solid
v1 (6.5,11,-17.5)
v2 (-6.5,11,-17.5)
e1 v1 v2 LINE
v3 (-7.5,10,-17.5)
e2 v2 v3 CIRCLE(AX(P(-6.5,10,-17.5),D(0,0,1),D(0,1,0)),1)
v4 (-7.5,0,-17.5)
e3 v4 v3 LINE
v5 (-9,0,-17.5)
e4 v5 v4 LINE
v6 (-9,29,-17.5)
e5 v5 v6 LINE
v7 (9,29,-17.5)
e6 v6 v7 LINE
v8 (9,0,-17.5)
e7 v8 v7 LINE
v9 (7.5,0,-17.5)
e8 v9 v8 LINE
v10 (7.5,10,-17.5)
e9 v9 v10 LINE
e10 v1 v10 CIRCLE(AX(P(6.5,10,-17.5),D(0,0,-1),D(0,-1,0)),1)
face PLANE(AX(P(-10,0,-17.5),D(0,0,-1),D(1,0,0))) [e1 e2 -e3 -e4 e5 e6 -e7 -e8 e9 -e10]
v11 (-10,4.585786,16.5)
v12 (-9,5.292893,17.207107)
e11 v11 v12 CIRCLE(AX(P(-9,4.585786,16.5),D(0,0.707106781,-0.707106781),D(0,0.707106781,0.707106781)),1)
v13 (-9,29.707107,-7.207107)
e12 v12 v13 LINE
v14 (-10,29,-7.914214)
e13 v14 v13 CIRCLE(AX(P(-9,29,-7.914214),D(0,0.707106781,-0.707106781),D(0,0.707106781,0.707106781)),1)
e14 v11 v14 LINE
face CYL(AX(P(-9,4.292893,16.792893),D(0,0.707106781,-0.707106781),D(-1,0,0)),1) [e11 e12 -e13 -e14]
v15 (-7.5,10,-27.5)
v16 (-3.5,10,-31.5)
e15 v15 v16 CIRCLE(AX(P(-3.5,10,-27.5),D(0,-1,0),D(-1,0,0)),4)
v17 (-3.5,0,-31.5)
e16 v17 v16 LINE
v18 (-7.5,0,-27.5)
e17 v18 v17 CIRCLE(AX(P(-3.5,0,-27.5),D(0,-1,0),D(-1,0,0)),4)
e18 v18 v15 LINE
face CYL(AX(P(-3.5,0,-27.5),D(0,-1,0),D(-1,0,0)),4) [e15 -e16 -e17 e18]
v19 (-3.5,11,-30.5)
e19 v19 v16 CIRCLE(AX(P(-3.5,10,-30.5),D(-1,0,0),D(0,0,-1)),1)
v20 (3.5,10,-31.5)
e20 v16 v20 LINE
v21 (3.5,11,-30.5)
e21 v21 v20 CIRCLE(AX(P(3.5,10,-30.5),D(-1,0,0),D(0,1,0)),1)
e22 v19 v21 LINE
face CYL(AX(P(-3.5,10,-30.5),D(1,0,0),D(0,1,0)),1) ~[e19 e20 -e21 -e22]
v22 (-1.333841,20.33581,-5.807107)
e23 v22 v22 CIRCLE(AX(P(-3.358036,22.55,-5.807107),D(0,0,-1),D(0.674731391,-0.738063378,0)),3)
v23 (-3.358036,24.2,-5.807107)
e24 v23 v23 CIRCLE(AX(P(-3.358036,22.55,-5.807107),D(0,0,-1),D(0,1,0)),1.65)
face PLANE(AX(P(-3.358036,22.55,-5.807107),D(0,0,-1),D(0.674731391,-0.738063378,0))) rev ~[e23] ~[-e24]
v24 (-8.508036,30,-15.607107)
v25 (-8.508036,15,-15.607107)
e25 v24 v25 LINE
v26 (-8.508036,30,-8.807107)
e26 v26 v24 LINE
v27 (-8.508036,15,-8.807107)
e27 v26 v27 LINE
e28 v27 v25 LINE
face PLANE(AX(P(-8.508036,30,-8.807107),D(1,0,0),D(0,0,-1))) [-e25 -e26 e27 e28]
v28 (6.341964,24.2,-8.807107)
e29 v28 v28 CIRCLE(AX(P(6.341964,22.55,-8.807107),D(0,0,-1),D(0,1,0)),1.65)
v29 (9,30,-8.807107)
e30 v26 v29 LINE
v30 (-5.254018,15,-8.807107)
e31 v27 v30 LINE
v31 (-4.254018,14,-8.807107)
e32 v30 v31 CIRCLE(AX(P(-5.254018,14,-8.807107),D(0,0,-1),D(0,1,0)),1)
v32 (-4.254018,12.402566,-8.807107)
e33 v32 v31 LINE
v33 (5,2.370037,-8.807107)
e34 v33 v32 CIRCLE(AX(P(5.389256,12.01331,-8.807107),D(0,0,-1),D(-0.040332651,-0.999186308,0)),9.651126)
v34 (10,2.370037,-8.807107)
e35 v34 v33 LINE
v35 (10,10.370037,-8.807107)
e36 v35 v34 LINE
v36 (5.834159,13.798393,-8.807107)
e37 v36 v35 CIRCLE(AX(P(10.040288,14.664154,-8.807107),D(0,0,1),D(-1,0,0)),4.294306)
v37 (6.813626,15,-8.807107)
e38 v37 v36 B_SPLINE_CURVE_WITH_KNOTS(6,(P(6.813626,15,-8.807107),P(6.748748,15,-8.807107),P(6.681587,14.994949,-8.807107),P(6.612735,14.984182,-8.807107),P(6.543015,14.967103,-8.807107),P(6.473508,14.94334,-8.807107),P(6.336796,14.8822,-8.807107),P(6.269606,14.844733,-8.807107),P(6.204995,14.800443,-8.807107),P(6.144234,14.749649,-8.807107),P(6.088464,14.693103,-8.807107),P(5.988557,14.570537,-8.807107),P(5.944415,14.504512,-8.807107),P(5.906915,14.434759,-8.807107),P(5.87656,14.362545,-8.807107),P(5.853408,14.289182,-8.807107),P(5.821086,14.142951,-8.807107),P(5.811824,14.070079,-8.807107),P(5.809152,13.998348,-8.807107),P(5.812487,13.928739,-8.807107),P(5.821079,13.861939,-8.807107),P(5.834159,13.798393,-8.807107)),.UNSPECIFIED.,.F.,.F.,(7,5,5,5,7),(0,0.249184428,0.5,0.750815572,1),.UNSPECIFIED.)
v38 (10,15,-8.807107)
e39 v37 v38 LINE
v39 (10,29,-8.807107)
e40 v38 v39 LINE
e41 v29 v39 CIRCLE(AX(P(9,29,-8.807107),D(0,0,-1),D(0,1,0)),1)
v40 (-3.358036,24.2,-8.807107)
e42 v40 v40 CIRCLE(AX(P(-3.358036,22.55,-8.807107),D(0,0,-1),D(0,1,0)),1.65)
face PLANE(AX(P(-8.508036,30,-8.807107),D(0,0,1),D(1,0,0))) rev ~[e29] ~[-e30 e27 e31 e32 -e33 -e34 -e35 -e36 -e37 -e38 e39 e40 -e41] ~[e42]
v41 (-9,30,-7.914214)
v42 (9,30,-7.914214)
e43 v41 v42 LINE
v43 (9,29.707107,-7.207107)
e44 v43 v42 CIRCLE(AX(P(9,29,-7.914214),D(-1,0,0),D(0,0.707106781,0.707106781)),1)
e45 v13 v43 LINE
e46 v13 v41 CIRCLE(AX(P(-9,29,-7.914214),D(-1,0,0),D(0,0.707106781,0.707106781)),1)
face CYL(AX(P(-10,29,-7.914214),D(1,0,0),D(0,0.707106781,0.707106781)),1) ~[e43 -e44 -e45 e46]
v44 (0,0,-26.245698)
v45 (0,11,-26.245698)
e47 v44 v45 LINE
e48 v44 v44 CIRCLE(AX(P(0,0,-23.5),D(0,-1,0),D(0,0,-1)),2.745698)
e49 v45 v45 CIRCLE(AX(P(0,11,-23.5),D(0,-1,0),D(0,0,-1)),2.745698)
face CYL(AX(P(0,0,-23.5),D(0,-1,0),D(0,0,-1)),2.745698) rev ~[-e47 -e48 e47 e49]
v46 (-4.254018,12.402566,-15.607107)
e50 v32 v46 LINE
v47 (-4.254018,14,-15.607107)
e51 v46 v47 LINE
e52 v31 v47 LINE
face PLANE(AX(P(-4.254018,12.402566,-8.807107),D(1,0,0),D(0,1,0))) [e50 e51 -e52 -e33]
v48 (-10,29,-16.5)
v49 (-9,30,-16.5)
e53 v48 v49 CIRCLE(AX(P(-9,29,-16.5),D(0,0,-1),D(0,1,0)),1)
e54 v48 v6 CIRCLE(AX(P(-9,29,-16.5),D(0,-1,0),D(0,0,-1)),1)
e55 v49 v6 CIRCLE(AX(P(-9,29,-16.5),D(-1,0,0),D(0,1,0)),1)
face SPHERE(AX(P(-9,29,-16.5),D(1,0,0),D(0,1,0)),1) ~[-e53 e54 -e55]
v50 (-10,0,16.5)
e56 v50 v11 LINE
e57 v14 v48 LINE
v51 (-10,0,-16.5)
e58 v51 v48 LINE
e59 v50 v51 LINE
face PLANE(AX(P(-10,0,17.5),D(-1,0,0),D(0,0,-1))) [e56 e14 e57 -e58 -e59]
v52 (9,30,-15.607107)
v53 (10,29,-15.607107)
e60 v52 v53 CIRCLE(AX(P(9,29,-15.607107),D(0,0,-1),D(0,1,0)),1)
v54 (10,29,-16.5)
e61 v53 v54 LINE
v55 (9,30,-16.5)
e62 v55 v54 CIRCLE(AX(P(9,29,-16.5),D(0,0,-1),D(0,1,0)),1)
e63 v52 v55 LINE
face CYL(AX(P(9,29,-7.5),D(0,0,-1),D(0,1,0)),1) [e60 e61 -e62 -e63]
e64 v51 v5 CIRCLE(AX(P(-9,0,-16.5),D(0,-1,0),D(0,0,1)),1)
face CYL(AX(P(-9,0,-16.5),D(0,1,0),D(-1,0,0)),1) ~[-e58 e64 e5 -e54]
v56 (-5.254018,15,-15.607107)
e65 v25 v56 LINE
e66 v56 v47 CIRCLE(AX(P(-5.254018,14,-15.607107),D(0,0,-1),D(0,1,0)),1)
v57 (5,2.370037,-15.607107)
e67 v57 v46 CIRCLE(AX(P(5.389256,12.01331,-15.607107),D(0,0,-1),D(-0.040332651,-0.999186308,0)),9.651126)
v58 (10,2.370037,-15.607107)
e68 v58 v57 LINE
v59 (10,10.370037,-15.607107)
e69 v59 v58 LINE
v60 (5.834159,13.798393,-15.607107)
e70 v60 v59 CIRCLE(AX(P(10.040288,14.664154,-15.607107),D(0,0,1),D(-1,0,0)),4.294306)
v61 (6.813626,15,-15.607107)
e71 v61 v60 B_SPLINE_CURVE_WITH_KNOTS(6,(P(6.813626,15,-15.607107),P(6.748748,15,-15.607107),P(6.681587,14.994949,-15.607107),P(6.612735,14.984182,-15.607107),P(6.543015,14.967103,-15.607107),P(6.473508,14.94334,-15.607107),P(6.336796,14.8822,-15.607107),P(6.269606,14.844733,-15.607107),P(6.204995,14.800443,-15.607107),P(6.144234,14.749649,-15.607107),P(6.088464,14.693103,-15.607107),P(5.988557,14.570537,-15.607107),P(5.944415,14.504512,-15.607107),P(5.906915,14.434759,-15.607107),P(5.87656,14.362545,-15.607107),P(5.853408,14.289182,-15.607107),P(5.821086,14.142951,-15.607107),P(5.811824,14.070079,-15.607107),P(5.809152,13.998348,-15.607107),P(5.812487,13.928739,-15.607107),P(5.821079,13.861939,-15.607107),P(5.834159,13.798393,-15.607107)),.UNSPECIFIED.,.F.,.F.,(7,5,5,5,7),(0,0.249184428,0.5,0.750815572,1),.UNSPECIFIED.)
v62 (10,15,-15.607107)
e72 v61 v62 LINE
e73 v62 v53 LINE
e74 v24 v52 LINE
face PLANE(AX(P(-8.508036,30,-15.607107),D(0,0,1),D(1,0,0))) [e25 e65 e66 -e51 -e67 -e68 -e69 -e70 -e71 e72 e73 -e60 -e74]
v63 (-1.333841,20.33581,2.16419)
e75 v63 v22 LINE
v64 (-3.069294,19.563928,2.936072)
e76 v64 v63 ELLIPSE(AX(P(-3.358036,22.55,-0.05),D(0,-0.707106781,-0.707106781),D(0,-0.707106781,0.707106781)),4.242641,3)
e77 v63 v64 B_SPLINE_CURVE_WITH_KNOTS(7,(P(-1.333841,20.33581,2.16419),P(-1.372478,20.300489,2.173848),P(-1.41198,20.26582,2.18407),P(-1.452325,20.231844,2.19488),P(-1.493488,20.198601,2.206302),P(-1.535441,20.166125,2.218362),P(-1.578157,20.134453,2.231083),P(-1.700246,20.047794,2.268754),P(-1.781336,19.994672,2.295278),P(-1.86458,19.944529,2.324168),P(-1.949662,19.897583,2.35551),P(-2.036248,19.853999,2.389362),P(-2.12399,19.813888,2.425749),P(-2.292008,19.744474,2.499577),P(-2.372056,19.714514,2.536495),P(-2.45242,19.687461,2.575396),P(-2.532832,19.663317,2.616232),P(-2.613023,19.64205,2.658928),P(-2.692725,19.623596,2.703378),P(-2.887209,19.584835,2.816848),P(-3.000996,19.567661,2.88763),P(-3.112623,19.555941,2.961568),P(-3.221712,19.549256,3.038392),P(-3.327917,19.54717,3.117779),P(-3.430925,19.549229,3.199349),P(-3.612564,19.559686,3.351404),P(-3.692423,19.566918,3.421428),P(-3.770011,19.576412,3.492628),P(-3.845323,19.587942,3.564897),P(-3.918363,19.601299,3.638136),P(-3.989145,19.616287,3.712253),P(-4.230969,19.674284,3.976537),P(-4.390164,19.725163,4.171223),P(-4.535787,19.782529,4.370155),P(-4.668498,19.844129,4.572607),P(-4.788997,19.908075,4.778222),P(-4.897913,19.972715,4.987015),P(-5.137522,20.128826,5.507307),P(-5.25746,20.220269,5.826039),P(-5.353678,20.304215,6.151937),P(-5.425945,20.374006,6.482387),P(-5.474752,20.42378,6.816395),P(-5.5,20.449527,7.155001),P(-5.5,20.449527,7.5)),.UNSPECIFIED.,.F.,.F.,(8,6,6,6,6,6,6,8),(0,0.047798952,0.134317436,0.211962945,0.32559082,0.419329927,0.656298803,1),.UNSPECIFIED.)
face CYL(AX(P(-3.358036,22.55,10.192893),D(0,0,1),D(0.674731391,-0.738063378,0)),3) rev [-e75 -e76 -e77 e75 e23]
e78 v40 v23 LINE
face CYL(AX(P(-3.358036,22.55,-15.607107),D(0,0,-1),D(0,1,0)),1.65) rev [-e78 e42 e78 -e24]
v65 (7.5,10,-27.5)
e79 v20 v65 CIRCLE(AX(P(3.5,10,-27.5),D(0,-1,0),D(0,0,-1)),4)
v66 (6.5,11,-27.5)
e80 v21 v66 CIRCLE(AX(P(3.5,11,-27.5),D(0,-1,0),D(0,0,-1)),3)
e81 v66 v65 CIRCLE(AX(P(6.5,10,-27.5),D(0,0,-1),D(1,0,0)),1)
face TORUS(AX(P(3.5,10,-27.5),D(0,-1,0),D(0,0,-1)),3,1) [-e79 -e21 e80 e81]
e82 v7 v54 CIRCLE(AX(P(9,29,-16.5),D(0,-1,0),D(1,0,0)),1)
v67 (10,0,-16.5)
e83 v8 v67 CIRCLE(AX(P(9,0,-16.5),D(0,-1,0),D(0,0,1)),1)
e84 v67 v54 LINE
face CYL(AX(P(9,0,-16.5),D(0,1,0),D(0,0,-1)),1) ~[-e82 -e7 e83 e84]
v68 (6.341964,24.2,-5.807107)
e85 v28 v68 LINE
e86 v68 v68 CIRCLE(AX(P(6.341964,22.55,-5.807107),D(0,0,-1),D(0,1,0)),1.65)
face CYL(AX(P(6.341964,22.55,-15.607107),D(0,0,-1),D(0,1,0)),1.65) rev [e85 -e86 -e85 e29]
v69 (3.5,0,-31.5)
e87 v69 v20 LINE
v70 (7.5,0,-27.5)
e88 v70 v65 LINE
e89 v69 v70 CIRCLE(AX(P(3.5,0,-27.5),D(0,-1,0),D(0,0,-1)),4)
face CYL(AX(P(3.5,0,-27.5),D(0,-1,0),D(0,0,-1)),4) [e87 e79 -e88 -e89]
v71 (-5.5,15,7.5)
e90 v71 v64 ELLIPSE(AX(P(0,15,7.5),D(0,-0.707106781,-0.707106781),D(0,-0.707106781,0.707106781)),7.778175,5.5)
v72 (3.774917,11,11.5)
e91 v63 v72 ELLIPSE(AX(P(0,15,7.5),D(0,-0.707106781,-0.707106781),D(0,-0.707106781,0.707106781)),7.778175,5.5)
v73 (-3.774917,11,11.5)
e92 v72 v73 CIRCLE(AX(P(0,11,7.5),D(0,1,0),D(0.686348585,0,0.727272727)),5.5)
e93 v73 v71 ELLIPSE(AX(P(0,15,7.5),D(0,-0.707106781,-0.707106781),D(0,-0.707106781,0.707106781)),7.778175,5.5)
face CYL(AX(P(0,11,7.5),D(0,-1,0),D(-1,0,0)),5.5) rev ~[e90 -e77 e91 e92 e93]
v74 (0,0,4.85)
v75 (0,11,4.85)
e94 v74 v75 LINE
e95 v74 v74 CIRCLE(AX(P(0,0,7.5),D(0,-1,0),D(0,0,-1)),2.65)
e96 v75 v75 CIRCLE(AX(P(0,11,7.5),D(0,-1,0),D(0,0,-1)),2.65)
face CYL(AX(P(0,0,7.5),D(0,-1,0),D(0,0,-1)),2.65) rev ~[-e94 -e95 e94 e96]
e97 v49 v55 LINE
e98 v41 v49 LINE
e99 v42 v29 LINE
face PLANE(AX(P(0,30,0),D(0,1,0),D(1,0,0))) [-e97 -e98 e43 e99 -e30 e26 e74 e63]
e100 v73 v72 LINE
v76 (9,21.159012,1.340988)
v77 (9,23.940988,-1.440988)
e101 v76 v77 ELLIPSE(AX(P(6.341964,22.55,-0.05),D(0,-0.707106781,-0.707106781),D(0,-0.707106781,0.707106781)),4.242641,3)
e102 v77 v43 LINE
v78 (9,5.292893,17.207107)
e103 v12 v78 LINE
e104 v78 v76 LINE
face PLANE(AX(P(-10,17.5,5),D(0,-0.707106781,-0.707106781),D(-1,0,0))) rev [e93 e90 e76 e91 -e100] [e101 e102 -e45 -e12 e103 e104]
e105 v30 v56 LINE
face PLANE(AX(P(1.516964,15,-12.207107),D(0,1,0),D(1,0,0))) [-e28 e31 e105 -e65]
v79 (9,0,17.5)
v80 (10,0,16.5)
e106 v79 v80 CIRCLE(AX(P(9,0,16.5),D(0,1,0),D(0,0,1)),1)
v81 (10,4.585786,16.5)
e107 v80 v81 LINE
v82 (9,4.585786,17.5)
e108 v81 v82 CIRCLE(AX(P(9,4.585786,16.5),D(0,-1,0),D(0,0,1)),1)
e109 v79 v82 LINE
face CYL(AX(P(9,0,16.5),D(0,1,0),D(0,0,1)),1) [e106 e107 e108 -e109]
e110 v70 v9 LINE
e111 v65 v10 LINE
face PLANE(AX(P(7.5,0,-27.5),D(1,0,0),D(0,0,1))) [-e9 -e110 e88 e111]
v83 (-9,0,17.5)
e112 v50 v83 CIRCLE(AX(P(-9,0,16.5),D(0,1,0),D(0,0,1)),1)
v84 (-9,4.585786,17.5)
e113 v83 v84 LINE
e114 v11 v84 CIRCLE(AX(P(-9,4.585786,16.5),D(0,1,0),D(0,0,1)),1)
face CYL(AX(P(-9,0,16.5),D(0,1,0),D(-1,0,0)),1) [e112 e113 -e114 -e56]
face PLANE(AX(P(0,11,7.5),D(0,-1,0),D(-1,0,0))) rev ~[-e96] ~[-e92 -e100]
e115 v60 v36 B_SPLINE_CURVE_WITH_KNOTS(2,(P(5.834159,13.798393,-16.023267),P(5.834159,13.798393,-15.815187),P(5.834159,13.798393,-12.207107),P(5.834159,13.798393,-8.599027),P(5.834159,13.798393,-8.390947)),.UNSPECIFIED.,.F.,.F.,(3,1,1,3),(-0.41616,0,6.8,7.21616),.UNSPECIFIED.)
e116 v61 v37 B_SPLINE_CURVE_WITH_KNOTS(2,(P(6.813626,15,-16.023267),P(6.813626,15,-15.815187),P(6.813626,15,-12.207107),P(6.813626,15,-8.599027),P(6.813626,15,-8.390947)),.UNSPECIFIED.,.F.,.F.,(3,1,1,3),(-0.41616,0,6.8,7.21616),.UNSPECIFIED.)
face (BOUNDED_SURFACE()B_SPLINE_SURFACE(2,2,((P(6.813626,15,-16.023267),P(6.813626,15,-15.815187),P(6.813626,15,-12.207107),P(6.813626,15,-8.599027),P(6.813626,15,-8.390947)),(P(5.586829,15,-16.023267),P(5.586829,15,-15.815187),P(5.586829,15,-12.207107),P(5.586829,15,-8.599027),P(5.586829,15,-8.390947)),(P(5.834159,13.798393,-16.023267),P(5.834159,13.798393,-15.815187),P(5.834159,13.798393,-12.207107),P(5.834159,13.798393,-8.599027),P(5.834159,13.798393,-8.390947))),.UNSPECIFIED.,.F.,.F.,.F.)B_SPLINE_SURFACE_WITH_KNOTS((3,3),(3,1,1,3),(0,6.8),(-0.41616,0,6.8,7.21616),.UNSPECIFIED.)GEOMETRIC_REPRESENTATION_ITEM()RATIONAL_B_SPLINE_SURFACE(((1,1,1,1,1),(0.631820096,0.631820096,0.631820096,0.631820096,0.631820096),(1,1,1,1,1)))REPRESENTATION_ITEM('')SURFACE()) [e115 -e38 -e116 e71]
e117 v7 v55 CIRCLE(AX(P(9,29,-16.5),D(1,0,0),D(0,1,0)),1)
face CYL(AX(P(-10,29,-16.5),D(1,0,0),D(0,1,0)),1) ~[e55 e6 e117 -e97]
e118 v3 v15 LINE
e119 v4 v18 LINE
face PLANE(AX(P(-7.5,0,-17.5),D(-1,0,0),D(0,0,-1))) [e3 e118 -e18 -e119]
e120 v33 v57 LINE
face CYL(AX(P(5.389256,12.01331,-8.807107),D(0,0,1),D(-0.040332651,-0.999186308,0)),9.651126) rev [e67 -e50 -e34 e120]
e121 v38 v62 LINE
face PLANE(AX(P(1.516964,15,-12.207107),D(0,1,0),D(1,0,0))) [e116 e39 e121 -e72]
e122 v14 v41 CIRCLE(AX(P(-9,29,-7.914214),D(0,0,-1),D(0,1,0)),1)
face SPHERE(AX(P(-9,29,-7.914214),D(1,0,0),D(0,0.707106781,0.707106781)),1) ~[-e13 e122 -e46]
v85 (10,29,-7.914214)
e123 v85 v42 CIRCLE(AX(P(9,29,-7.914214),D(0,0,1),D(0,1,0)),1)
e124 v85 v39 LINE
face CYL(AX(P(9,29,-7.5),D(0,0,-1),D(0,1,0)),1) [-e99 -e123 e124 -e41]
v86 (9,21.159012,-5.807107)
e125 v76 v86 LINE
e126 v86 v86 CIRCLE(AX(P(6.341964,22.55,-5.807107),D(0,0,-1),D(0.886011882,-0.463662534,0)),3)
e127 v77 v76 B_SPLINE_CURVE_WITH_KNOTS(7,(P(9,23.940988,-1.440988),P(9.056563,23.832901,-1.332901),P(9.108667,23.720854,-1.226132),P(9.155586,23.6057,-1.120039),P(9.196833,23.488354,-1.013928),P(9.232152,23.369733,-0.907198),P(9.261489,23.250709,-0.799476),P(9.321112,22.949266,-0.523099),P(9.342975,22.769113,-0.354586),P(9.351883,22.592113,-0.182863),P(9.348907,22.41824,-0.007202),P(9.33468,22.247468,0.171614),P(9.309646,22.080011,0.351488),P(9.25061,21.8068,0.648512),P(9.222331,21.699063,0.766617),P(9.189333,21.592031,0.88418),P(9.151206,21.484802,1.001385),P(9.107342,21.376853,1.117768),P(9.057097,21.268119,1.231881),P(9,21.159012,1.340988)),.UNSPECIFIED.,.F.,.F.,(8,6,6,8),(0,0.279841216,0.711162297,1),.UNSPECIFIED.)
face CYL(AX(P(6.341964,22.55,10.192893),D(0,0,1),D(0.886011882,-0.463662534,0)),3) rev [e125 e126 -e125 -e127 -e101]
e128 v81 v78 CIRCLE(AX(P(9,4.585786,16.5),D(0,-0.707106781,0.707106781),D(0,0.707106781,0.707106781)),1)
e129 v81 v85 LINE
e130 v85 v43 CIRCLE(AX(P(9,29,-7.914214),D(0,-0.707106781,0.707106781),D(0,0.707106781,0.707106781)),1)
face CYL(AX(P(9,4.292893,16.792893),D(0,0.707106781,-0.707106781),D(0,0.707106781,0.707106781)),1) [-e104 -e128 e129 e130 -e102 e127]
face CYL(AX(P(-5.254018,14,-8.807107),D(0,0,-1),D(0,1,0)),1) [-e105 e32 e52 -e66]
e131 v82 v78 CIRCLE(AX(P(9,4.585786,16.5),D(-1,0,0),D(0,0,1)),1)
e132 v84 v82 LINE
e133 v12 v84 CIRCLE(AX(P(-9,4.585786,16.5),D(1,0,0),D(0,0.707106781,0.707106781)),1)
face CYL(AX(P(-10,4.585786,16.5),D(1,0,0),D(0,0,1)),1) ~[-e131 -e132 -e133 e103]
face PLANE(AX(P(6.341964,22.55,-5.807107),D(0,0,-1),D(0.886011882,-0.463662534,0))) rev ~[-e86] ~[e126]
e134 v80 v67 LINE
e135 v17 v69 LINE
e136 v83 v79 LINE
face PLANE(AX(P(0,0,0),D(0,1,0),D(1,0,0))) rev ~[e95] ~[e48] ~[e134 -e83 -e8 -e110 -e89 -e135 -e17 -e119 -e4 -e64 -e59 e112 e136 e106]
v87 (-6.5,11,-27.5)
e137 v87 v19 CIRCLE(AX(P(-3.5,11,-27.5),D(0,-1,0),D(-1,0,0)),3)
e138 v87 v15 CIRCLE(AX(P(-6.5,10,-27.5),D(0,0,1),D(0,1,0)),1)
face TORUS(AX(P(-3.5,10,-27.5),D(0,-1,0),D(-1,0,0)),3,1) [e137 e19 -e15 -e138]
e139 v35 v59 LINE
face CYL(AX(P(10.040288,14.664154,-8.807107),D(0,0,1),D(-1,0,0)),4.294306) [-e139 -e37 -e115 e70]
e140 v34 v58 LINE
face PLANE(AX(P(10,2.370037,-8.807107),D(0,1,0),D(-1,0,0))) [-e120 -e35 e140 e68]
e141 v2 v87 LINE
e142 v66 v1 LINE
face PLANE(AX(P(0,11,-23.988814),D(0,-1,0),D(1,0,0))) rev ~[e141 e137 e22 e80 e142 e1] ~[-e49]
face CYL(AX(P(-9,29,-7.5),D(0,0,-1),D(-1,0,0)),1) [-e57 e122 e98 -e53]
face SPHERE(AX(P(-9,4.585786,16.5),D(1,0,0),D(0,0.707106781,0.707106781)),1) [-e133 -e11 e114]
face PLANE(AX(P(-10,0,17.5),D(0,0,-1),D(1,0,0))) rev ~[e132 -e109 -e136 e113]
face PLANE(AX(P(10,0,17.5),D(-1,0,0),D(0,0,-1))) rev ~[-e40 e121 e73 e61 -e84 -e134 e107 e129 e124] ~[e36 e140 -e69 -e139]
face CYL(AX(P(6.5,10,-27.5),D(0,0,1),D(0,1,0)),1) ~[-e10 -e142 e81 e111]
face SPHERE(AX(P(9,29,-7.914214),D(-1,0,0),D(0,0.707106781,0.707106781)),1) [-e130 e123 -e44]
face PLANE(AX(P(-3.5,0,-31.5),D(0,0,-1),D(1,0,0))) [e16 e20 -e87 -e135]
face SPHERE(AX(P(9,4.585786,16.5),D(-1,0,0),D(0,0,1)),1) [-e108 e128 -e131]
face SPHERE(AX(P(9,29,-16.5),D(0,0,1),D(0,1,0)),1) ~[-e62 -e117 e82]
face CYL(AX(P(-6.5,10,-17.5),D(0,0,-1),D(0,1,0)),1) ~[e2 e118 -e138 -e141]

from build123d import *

# Parameters (mm, degrees)
SKETCH1_W               = 20
SKETCH1_H               = 35
BOSS_EXTRUDE1_DEPTH     = 30
CHAMFER1_SIZE           = 25
FILLET1_R               = 1
SKETCH2_R               = 2.65
CUT_EXTRUDE2_DEPTH      = 20
SKETCH4_R               = 5.5
CUT_EXTRUDE3_DEPTH      = 20
SKETCH5_W               = 20.05
SKETCH5_H               = 6.8
CUT_EXTRUDE4_DEPTH      = 15
CUT_EXTRUDE5_DEPTH      = 6.8
FILLET3_R               = 1
SKETCH7_R               = 2.745697614
BOSS_EXTRUDE2_DEPTH     = 11
FILLET4_R               = 1
SKETCH10_R              = 1.65
CUT_EXTRUDE7_DEPTH      = 18
CUT_EXTRUDE8_DEPTH      = 8
CUT_EXTRUDE8_DEPTH_BACK = 8
SKETCH11_R              = 3


with BuildPart() as part:
    # Sketch1 → Boss-Extrude1 (new body)
    with BuildSketch(Plane(origin=(0, 0, 0), x_dir=(1, 0, 0), z_dir=(0, 1, 0))):
        Rectangle(SKETCH1_W, SKETCH1_H)
    extrude(amount=BOSS_EXTRUDE1_DEPTH)

    # Chamfer1
    chamfer1_edges = [part.edges().sort_by_distance(p)[0] for p in [
        (0, 30, 17.5),
    ]]
    chamfer(chamfer1_edges, length=CHAMFER1_SIZE)

    # Fillet1
    fillet1_edges = [part.edges().sort_by_distance(p)[0] for p in [
        (10, 30, -12.5),
        (0, 30, -7.5),
        (10, 2.5, 17.5),
        (10, 17.5, 5),
        (-10, 2.5, 17.5),
        (0, 5, 17.5),
        (0, 30, -17.5),
        (-10, 17.5, 5),
        (-10, 30, -12.5),
        (-10, 15, -17.5),
        (10, 15, -17.5),
    ]]
    fillet(fillet1_edges, radius=FILLET1_R)

    # Sketch2 → Cut-Extrude2 (cut)
    with BuildSketch(Plane(origin=(0, 0, 0), x_dir=(-1, 0, 0), z_dir=(0, -1, 0))):
        with Locations(Location((0, -7.5, 0), (0, 0, 90))):
            Circle(SKETCH2_R)
    extrude(amount=-CUT_EXTRUDE2_DEPTH, mode=Mode.SUBTRACT)

    # Sketch4 → Cut-Extrude3 (cut)
    with BuildSketch(Plane(origin=(0, 11, 0), x_dir=(-1, 0, 0), z_dir=(0, -1, 0))):
        with Locations((0, -7.5)):
            Circle(SKETCH4_R)
    extrude(amount=-CUT_EXTRUDE3_DEPTH, mode=Mode.SUBTRACT)

    # Sketch5 → Cut-Extrude4 (cut)
    with BuildSketch(Plane(origin=(0, 30, 0), x_dir=(1, 0, 0), z_dir=(0, 1, 0))):
        with Locations((1.516964354, 12.207106781)):
            Rectangle(SKETCH5_W, SKETCH5_H)
    extrude(amount=-CUT_EXTRUDE4_DEPTH, mode=Mode.SUBTRACT)

    # Sketch6 → Cut-Extrude5 (cut)
    with BuildSketch(Plane(origin=(0, 0, -8.807106781), x_dir=(-1, 0, 0), z_dir=(0, 0, -1))):
        with BuildLine():
            Line((-10, 10.37003714), (-10, 2.37003714))
            Line((-10, 2.37003714), (-5, 2.37003714))
            ThreePointArc((-5, 2.37003714), (1.70481367, 5.469731724), (4.254017823, 12.402565997))
            Line((4.254017823, 12.402565997), (4.254017823, 21.00909074))
            Line((4.254017823, 21.00909074), (-5.745982177, 21.00909074))
            Line((-5.745982177, 21.00909074), (-5.745982177, 14.664154296))
            ThreePointArc((-5.745982177, 14.664154296), (-6.989544506, 11.641898939), (-10, 10.37003714))
        make_face()
    extrude(amount=CUT_EXTRUDE5_DEPTH, mode=Mode.SUBTRACT)

    # Fillet3
    fillet3_edges = [part.edges().sort_by_distance(p)[0] for p in [
        (5.745982177, 15, -12.207106781),
        (-4.254017823, 15, -12.207106781),
    ]]
    fillet(fillet3_edges, radius=FILLET3_R)

    # Sketch7 → Boss-Extrude2 (add)
    with BuildSketch(Plane.XZ):
        with BuildLine():
            Line((7.5, -17.5), (-7.5, -17.5))
            Line((-7.5, -17.5), (-7.5, -27.5))
            ThreePointArc((-7.5, -27.5), (-6.328427125, -30.328427125), (-3.5, -31.5))
            Line((-3.5, -31.5), (3.5, -31.5))
            ThreePointArc((3.5, -31.5), (6.328427125, -30.328427125), (7.5, -27.5))
            Line((7.5, -27.5), (7.5, -17.5))
        make_face()
        with Locations(Location((0, -23.5, 0), (0, 0, 270))):
            Circle(SKETCH7_R, mode=Mode.SUBTRACT)
    extrude(amount=-BOSS_EXTRUDE2_DEPTH)

    # Fillet4
    fillet4_edges = [part.edges().sort_by_distance(p)[0] for p in [
        (6.328427125, 11, -30.328427125),
        (0, 11, -31.5),
        (-6.328427125, 11, -30.328427125),
        (-7.5, 11, -22.5),
        (7.5, 11, -22.5),
    ]]
    fillet(fillet4_edges, radius=FILLET4_R)

    # Sketch10 → Cut-Extrude7 (cut)
    with BuildSketch(Plane.XY.offset(-15.607106781)):
        with Locations(Location((-3.358035646, 22.55, 0), (0, 0, 90))):
            Circle(SKETCH10_R)
        with Locations(Location((6.341964354, 22.55, 0), (0, 0, 90))):
            Circle(SKETCH10_R)
    extrude(amount=CUT_EXTRUDE7_DEPTH, mode=Mode.SUBTRACT)

    # Sketch11 → Cut-Extrude8 (cut, two sides: drawn at the far end of the back side and taken through both)
    with BuildSketch(Plane(origin=(0, 0, 2.192893219), x_dir=(-1, 0, 0), z_dir=(0, 0, -1)).offset(-CUT_EXTRUDE8_DEPTH_BACK)):
        with Locations(Location((3.358035646, 22.55, 0), (0, 0, 227.566705352))):
            Circle(SKETCH11_R)
        with Locations(Location((-6.341964354, 22.55, 0), (0, 0, 207.623697814))):
            Circle(SKETCH11_R)
    extrude(amount=CUT_EXTRUDE8_DEPTH + CUT_EXTRUDE8_DEPTH_BACK, mode=Mode.SUBTRACT)


solid = part.part
